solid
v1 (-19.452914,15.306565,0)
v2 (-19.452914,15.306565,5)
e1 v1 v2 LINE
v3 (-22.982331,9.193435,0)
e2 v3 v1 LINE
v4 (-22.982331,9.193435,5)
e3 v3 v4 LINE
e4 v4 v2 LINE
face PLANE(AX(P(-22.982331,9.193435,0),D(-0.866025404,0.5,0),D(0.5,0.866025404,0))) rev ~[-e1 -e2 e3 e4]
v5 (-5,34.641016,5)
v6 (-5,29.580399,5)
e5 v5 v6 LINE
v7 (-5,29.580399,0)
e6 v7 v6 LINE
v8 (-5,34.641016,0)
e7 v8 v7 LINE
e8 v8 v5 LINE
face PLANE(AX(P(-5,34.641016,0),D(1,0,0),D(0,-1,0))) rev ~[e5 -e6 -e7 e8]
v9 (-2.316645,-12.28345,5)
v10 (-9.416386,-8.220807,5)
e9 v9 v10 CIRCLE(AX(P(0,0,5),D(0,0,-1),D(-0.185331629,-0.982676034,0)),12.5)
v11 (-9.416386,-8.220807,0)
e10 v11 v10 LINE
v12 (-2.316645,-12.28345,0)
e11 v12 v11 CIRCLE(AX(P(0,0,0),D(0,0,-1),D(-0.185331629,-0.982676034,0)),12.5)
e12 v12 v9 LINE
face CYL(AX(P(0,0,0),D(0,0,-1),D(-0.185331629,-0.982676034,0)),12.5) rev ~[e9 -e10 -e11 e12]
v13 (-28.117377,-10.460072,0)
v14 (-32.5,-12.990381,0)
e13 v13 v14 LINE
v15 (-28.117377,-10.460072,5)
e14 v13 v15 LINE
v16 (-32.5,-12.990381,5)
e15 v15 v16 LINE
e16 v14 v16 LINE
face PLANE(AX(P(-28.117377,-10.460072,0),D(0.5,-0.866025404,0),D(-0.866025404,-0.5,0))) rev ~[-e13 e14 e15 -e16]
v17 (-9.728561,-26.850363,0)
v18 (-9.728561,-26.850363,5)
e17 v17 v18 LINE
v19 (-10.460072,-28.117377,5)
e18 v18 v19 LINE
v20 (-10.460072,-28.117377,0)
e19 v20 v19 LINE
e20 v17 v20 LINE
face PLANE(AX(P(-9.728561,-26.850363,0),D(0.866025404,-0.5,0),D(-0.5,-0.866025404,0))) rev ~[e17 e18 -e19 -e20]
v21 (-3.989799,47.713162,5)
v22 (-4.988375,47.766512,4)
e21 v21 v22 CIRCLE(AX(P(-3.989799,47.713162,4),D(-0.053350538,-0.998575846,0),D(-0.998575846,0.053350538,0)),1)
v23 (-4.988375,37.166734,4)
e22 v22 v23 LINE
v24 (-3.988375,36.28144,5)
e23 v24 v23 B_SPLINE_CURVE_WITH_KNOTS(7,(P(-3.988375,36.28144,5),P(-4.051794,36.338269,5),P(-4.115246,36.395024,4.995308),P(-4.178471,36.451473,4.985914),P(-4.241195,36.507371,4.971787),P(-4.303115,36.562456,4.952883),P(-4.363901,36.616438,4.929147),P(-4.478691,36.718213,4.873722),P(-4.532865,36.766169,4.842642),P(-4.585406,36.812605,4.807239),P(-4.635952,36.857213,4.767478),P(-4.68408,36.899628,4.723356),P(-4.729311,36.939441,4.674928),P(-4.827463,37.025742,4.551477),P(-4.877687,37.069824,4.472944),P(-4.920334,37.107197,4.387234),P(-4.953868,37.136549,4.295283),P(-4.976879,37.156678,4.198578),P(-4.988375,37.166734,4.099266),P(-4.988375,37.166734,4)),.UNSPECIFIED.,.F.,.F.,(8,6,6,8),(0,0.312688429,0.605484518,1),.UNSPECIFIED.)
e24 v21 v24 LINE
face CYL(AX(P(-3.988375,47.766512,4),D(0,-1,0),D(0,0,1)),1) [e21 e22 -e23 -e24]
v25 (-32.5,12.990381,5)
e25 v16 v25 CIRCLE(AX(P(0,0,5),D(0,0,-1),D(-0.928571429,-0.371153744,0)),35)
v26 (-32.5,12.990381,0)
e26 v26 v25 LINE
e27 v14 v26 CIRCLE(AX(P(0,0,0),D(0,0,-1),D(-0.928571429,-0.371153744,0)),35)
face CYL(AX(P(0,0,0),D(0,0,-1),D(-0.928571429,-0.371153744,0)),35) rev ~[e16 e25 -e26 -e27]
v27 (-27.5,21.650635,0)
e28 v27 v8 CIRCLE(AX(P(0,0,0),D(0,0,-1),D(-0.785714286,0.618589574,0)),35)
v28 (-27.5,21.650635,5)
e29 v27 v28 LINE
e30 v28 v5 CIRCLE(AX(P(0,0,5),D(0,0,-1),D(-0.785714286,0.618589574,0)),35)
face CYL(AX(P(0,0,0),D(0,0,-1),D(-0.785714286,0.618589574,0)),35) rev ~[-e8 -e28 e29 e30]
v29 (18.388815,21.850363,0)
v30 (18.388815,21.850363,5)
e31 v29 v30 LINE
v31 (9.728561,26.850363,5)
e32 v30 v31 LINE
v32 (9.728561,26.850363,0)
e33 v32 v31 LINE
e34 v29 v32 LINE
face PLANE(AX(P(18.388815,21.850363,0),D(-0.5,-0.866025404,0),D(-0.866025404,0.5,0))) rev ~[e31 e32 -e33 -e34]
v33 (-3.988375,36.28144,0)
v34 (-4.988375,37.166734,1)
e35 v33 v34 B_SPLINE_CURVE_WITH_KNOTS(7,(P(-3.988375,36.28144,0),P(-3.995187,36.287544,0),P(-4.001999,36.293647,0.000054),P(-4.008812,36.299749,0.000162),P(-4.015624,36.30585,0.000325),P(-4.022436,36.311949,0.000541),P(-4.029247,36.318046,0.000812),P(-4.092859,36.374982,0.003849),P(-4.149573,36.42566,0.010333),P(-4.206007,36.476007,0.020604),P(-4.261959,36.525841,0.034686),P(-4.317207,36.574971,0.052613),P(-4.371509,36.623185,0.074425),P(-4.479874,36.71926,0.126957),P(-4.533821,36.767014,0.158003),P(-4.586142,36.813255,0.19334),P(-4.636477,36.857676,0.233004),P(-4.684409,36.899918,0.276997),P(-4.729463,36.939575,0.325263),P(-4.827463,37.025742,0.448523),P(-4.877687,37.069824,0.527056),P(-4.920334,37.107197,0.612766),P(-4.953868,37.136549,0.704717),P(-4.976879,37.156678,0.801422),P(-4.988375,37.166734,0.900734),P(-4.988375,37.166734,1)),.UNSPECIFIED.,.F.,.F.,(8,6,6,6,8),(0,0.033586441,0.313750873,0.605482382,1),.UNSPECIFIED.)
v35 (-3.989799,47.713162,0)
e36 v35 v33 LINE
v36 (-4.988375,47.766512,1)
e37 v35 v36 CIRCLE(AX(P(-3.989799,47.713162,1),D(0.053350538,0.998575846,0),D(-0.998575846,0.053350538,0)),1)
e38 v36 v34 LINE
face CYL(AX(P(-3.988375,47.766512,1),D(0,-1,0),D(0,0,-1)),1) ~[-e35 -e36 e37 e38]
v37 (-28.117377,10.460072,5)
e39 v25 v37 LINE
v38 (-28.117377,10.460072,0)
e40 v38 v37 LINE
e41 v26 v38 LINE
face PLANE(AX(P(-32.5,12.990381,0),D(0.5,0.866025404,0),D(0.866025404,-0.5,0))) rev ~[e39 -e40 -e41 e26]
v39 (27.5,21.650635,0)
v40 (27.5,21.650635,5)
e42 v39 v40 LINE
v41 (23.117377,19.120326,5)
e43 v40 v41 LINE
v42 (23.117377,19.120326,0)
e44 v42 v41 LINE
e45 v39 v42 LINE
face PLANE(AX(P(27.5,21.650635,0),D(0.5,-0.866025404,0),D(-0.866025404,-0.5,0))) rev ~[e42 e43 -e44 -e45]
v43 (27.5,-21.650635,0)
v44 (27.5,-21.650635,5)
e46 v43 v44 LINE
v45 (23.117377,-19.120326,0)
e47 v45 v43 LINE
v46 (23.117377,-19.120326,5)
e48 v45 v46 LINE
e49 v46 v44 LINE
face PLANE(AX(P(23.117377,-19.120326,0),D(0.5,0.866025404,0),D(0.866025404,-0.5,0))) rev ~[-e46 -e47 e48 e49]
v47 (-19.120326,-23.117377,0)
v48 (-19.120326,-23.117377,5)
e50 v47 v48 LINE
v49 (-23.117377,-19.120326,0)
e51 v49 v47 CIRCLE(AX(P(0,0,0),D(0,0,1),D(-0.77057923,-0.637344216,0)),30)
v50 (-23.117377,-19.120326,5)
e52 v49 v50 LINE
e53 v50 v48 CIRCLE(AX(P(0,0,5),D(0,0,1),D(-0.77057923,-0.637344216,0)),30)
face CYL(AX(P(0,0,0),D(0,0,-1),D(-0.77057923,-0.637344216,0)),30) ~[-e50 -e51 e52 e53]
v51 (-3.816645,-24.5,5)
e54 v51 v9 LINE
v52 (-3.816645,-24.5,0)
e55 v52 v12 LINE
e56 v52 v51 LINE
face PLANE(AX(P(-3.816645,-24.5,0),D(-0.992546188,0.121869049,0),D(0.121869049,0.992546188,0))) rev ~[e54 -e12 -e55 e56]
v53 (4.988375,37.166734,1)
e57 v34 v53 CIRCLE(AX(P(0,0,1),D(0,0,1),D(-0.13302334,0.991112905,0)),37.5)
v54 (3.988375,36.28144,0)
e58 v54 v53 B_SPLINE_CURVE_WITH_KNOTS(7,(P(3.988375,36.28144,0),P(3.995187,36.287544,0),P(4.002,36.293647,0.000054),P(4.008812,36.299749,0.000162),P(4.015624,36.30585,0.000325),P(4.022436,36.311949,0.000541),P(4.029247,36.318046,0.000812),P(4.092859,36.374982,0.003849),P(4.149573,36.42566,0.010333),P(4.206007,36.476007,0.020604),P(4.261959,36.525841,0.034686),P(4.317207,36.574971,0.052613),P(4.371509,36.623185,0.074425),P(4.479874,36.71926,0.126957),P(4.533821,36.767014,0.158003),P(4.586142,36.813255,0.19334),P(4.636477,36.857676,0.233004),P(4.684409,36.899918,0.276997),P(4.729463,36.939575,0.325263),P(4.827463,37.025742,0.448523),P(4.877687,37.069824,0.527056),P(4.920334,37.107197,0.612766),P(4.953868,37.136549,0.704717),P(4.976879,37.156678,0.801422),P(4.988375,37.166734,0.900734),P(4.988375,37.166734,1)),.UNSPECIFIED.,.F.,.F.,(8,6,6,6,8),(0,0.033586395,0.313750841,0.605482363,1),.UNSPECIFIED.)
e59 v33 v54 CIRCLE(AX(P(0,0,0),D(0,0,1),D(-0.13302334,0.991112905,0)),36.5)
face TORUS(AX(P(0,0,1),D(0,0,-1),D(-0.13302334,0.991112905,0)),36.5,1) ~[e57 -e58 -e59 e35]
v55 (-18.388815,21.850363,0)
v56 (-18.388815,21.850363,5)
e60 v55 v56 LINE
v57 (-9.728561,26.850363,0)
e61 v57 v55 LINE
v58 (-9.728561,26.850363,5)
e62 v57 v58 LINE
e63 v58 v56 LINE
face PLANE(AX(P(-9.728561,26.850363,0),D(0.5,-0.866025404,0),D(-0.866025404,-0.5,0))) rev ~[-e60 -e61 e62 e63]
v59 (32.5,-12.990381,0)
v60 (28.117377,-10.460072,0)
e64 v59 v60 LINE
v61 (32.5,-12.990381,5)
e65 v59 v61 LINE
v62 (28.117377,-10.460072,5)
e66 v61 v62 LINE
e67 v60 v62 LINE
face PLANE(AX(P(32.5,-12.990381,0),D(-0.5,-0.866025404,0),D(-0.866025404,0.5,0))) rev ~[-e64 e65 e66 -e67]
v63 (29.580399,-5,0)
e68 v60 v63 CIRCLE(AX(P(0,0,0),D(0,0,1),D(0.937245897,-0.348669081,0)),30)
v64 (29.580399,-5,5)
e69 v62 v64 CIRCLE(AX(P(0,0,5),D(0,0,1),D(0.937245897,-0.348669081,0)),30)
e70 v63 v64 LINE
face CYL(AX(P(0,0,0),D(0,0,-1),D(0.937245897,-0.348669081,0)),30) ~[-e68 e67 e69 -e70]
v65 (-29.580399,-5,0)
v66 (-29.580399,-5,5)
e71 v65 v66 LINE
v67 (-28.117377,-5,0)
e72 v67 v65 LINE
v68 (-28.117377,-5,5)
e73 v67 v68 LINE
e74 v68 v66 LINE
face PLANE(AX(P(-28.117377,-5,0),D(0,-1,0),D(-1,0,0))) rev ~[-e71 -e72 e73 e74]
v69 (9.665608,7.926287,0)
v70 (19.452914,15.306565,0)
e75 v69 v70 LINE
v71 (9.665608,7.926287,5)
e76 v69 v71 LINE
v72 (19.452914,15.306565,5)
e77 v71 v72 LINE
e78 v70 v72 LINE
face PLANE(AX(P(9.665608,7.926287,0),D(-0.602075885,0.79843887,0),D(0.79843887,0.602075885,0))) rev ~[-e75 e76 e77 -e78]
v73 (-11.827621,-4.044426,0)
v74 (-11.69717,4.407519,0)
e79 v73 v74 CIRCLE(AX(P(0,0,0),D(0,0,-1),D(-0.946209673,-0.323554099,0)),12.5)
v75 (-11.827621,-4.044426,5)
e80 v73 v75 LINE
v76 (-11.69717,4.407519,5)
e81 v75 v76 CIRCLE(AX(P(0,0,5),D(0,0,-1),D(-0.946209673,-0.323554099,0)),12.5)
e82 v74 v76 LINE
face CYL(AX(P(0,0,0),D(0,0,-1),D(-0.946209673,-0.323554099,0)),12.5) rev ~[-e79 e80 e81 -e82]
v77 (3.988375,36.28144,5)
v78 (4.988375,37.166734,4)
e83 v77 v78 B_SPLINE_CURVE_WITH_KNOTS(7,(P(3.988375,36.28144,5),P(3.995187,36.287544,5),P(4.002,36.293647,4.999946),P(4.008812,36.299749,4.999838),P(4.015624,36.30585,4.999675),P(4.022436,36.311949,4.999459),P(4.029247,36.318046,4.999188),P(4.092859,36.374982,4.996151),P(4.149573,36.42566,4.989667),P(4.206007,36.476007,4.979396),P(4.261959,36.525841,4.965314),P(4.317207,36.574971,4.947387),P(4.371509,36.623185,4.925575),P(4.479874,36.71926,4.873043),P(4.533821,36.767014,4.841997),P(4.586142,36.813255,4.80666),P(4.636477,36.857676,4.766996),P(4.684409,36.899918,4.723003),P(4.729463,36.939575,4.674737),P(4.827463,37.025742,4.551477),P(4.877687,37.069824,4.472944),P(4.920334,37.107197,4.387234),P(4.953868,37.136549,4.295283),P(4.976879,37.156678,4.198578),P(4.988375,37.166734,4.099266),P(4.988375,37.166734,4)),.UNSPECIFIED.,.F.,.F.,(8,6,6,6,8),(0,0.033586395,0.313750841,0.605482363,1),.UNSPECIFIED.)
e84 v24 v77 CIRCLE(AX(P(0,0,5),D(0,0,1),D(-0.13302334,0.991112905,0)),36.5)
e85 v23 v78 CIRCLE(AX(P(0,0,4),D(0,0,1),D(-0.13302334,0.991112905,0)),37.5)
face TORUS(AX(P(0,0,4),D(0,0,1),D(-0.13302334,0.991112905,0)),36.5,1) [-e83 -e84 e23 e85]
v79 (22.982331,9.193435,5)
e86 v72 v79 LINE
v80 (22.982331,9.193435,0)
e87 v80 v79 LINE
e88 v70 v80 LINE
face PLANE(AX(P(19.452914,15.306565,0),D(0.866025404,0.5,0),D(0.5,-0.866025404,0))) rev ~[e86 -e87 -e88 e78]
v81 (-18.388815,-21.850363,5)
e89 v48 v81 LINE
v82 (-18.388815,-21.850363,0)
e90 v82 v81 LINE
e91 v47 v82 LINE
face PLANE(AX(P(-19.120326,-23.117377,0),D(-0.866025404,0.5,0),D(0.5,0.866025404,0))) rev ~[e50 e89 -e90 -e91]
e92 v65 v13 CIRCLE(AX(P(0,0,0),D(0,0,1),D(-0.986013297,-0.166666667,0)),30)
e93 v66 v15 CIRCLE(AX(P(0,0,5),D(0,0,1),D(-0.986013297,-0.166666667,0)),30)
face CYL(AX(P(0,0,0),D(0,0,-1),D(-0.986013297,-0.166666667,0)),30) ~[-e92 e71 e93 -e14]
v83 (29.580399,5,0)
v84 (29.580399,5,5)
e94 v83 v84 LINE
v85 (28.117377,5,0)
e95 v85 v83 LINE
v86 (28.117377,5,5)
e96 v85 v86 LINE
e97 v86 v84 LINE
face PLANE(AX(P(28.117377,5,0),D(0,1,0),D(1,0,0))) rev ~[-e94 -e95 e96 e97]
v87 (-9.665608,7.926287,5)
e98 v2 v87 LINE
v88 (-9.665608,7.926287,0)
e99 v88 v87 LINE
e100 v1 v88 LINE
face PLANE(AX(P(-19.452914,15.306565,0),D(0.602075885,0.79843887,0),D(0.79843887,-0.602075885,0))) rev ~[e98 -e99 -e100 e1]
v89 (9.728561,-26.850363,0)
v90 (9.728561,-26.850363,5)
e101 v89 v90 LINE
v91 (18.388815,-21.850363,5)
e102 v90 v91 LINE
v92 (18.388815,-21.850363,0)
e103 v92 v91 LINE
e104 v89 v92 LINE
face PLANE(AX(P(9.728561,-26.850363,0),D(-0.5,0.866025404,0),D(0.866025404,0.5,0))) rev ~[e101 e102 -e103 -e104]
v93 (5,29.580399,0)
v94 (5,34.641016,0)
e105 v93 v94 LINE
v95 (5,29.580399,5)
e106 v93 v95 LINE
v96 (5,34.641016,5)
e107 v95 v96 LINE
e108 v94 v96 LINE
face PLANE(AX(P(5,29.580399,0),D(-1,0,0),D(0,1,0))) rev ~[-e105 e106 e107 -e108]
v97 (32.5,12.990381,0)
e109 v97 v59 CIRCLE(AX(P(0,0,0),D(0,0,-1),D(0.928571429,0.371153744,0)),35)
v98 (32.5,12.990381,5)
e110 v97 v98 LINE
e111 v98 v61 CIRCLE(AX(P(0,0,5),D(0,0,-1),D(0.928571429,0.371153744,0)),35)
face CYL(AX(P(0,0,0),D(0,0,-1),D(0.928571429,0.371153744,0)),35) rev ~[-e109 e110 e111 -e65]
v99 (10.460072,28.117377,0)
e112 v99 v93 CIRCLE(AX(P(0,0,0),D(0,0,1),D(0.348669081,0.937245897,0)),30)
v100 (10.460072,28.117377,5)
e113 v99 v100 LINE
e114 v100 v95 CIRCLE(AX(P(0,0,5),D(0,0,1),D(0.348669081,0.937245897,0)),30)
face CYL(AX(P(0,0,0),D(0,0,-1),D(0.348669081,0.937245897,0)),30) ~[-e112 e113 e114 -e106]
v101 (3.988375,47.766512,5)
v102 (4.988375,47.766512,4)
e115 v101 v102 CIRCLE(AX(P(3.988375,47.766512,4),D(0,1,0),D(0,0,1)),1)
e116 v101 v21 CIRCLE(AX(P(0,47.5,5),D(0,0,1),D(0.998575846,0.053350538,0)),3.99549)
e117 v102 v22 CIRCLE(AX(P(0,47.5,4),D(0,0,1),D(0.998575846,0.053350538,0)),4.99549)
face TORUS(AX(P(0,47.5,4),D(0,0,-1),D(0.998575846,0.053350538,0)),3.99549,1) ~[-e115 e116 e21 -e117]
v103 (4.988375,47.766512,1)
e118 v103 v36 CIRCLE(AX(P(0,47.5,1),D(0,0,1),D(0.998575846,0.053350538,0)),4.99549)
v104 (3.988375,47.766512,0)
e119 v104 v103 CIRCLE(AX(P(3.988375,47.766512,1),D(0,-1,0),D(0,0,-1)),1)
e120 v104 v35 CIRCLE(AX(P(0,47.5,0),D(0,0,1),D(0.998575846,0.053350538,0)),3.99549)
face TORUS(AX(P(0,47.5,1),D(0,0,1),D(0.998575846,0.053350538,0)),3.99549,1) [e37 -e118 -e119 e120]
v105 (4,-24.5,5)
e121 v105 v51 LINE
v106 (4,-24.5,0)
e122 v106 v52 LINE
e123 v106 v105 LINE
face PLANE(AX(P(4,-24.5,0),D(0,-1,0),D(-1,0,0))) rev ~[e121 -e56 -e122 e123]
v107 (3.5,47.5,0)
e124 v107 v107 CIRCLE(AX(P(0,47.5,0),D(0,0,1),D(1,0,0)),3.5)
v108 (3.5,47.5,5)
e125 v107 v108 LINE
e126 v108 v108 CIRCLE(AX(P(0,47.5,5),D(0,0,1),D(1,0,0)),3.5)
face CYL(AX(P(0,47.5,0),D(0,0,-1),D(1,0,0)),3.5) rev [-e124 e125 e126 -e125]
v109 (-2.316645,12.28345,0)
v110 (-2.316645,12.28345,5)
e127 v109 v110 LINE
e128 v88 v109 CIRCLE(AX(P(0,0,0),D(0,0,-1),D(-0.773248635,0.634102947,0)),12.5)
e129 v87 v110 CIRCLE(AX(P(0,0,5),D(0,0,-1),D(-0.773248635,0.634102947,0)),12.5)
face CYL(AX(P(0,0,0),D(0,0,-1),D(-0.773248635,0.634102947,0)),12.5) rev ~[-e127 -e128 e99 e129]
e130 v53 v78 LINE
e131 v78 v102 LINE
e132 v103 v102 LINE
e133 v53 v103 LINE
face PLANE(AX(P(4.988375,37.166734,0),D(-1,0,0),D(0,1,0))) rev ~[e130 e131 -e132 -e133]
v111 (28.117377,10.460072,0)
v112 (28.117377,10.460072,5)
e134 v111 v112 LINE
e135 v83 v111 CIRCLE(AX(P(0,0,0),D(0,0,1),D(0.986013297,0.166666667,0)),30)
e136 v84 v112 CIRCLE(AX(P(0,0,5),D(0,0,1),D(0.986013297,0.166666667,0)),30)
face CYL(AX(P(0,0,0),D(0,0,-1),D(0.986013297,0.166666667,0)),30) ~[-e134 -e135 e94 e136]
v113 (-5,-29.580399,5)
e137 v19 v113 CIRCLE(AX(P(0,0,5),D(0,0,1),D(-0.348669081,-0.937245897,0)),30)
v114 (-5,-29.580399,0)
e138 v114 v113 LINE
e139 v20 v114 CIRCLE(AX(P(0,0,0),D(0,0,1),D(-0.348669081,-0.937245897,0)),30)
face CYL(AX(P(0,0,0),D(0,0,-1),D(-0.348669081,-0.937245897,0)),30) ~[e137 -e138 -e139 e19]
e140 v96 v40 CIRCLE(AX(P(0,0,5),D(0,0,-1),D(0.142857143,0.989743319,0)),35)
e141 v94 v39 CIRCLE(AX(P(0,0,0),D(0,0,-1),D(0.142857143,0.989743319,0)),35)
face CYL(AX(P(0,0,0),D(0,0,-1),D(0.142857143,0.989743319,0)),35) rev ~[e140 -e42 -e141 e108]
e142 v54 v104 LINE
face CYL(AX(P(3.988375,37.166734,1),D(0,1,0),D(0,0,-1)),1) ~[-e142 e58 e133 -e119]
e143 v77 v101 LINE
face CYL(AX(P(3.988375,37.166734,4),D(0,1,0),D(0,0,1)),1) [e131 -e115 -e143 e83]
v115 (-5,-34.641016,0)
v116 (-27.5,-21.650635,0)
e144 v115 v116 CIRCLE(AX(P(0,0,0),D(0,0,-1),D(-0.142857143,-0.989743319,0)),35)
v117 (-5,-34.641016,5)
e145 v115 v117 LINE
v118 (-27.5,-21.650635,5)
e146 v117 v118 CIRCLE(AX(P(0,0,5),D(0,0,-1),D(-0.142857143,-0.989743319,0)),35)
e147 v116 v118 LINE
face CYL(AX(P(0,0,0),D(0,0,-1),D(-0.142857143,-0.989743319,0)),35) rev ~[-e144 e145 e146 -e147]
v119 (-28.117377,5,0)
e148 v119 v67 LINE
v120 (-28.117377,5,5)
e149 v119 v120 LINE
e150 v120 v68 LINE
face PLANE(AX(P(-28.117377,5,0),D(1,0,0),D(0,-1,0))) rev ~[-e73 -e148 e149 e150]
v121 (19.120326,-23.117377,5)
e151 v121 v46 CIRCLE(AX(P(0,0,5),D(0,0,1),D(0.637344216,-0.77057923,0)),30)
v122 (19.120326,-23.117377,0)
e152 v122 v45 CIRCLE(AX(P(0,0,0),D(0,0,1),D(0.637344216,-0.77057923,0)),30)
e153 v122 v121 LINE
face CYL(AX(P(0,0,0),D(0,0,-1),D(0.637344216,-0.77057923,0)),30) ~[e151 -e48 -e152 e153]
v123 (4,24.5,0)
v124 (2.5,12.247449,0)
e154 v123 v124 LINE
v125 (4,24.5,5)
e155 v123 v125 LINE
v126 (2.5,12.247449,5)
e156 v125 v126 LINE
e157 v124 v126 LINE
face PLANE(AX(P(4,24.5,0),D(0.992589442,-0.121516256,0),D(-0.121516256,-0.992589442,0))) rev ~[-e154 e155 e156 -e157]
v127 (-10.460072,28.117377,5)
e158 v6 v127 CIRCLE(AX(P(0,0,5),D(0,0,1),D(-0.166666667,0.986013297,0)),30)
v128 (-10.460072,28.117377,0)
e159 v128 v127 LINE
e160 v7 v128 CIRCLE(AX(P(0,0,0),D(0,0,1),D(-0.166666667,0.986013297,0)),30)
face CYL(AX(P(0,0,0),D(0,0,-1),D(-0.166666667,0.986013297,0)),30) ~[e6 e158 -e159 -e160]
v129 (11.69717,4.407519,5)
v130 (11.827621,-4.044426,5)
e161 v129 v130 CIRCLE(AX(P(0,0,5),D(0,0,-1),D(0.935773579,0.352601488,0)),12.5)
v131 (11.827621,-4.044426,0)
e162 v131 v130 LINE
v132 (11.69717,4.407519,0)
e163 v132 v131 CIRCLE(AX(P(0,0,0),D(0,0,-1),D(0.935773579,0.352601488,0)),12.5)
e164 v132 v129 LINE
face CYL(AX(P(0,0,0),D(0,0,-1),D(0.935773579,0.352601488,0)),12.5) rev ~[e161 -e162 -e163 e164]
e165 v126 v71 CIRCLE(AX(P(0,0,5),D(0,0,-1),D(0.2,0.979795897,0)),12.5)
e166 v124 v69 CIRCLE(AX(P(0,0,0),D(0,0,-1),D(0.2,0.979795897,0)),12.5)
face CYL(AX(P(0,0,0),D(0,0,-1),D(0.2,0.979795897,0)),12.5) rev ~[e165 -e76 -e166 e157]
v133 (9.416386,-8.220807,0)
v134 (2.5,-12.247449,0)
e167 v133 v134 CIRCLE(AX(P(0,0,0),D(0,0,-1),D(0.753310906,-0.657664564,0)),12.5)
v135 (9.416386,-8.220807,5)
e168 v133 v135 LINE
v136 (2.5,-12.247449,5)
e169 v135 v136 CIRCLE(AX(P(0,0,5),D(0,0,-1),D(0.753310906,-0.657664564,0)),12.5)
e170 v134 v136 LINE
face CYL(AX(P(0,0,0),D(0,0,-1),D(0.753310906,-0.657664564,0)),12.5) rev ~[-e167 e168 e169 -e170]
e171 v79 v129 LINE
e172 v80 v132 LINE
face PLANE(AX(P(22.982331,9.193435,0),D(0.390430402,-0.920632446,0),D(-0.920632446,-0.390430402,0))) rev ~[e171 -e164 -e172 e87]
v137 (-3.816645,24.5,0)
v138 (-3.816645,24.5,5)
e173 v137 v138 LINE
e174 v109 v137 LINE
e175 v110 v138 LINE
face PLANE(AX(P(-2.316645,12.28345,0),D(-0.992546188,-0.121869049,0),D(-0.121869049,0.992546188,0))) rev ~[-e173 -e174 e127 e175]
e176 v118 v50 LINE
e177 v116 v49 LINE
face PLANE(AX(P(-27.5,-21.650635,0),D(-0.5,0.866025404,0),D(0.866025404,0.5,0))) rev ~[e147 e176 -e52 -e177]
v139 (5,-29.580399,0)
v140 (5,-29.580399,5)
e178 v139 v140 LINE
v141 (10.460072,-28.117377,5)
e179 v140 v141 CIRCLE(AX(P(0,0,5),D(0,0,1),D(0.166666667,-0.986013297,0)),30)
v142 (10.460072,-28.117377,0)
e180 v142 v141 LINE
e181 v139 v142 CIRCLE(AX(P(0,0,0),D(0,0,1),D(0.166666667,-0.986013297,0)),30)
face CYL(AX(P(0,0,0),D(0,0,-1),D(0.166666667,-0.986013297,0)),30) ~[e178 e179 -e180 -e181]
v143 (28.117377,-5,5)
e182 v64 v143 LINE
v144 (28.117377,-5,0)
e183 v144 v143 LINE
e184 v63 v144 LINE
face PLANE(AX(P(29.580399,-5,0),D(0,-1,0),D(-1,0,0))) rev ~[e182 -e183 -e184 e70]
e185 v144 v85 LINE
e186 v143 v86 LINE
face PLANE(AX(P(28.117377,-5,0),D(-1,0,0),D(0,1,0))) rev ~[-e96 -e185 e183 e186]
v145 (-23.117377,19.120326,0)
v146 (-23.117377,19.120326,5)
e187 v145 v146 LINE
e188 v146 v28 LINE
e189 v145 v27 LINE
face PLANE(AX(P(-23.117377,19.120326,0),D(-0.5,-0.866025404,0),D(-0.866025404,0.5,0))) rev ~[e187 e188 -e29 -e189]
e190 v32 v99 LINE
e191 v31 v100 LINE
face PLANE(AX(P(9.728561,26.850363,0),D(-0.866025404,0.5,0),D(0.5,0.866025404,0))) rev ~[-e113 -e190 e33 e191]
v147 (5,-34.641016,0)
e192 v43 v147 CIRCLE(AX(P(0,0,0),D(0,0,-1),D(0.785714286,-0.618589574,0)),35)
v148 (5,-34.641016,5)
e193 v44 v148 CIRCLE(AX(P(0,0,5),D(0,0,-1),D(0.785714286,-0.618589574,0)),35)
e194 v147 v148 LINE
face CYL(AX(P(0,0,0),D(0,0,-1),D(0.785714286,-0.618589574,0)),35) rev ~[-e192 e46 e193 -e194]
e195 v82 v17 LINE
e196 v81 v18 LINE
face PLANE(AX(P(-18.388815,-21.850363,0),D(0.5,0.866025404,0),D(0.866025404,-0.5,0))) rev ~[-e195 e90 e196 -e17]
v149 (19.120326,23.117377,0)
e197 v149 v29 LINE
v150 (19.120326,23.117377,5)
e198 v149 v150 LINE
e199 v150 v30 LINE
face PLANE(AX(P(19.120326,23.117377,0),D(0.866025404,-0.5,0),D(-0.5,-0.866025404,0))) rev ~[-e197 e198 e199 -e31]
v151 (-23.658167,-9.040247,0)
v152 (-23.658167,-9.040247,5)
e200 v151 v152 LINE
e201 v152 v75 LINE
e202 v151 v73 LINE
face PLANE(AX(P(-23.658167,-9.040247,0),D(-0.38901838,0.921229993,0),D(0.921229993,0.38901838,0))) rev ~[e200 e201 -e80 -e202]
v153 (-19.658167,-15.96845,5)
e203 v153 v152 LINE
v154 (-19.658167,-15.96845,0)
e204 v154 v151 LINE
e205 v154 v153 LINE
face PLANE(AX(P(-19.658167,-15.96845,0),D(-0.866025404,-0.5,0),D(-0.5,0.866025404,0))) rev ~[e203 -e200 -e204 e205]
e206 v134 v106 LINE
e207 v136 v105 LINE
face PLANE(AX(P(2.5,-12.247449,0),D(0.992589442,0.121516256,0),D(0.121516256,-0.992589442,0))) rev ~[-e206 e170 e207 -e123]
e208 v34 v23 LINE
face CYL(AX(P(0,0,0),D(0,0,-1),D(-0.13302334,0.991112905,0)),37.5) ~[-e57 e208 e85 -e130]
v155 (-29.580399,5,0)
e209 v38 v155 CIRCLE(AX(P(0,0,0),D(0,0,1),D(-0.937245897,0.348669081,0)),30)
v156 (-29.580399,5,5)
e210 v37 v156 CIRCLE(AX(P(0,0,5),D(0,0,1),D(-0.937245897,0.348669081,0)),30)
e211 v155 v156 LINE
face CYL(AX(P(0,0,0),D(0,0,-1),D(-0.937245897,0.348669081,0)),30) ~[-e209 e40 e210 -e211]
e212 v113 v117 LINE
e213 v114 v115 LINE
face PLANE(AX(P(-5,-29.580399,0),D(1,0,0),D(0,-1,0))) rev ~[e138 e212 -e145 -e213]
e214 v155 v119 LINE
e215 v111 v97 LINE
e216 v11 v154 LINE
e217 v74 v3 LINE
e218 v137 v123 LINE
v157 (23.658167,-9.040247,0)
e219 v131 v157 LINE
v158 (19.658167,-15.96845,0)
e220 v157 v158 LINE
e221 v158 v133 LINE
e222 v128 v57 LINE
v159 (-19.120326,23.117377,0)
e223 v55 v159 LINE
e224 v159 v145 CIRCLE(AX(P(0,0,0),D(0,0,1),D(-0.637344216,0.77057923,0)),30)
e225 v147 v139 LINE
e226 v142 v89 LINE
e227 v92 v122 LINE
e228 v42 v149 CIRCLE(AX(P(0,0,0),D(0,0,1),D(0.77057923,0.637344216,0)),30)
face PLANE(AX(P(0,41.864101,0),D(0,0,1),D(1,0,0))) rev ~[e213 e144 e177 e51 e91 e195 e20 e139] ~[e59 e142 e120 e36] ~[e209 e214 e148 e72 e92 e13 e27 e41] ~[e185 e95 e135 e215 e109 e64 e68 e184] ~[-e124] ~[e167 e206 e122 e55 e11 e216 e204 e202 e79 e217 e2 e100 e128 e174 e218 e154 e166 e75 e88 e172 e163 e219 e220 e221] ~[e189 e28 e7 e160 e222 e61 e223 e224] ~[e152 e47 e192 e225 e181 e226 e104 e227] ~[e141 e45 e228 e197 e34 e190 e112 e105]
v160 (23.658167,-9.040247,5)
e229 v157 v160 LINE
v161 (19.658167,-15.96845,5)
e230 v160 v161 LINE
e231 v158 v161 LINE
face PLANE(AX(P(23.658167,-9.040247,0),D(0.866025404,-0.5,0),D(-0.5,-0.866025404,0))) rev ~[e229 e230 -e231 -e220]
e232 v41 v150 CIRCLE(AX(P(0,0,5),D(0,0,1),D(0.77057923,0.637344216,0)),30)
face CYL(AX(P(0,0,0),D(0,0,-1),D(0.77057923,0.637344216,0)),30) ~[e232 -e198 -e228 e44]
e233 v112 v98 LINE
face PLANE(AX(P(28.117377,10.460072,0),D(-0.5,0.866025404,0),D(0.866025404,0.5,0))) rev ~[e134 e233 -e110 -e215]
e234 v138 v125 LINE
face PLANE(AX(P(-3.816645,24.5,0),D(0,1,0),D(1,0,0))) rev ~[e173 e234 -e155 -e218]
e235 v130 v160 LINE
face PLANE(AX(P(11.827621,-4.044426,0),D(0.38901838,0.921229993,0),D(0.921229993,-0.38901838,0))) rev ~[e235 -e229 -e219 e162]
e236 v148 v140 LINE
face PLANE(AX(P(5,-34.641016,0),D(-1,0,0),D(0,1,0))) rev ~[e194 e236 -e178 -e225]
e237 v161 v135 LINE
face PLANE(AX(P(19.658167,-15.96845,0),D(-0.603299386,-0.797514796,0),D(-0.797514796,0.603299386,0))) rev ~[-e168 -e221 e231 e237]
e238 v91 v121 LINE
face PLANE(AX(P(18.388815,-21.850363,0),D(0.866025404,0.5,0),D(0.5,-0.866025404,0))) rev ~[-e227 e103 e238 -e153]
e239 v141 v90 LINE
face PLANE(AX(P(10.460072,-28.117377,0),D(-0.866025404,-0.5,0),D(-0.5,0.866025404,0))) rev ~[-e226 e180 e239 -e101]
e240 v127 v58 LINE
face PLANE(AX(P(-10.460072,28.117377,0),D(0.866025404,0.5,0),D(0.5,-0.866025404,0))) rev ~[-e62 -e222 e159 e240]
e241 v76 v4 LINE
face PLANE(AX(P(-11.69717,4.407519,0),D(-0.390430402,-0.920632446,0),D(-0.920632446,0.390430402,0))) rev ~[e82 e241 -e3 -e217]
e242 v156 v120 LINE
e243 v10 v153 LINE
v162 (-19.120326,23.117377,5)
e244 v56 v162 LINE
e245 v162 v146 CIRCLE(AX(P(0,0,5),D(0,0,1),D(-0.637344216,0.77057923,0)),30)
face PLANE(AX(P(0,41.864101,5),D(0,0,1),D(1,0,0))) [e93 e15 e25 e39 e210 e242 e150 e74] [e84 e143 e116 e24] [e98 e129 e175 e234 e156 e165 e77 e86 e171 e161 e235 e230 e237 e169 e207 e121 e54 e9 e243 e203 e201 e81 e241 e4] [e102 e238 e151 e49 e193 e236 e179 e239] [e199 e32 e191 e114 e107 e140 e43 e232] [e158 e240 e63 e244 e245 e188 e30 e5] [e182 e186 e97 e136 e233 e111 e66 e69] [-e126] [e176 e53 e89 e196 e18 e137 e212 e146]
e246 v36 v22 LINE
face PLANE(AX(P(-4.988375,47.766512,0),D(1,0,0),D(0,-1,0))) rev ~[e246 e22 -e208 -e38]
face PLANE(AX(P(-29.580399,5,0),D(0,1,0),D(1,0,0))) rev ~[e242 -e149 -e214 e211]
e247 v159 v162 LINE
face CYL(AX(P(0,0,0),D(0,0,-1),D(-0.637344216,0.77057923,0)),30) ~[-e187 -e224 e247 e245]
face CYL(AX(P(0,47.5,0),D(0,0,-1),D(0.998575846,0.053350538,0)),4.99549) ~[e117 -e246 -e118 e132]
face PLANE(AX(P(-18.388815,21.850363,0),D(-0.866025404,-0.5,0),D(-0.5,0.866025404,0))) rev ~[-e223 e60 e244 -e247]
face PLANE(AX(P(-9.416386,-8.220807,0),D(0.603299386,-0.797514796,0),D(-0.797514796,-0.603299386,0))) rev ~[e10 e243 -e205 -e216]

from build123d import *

# Parameters (mm, degrees)
F1_DEPTH = 5
F0_R     = 3.5
F2_DEPTH = 5
F3_R     = 1


with BuildPart() as f1:
    # F0 (on Top) → F1 (new body)
    with BuildSketch(Plane.XY):
        with BuildLine():
            ThreePointArc((-4.988375268, 37.1667339456), (-24.6899364868, -28.2251135742), (37.5, 0))
            ThreePointArc((37.5, 0), (28.2251135742, 24.6899364868), (4.988375268, 37.1667339456))
            ThreePointArc((4.988375268, 37.1667339456), (0, 37.5), (-4.988375268, 37.1667339456))
        make_face()
        with BuildLine():
            Line((-5, -29.5803989155), (-5, -30))
            Line((-5, -30), (-5, -34.6410161514))
            ThreePointArc((-5, -34.6410161514), (-17.5, -30.3108891325), (-27.5, -21.6506350946))
            Line((-27.5, -21.6506350946), (-23.1173769149, -19.1203264767))
            ThreePointArc((-23.1173769149, -19.1203264767), (-21.2132034356, -21.2132034356), (-19.1203264767, -23.1173769149))
            Line((-19.1203264767, -23.1173769149), (-18.3888154764, -21.8503626961))
            Line((-18.3888154764, -21.8503626961), (-9.7285614385, -26.8503626961))
            Line((-9.7285614385, -26.8503626961), (-10.4600724388, -28.1173769149))
            ThreePointArc((-10.4600724388, -28.1173769149), (-7.7645713531, -28.9777747887), (-5, -29.5803989155))
        make_face(mode=Mode.SUBTRACT)
        with BuildLine():
            ThreePointArc((-32.5, -12.9903810568), (-35, 0), (-32.5, 12.9903810568))
            Line((-32.5, 12.9903810568), (-28.1173769149, 10.4600724388))
            ThreePointArc((-28.1173769149, 10.4600724388), (-28.9777747887, 7.7645713531), (-29.5803989155, 5))
            Line((-29.5803989155, 5), (-28.1173769149, 5))
            Line((-28.1173769149, 5), (-28.1173769149, -5))
            Line((-28.1173769149, -5), (-29.5803989155, -5))
            ThreePointArc((-29.5803989155, -5), (-28.9777747887, -7.7645713531), (-28.1173769149, -10.4600724388))
            Line((-28.1173769149, -10.4600724388), (-32.5, -12.9903810568))
        make_face(mode=Mode.SUBTRACT)
        with BuildLine():
            Line((5, -30), (5, -29.5803989155))
            ThreePointArc((5, -29.5803989155), (7.7645713531, -28.9777747887), (10.4600724388, -28.1173769149))
            Line((10.4600724388, -28.1173769149), (9.7285614385, -26.8503626961))
            Line((9.7285614385, -26.8503626961), (18.3888154764, -21.8503626961))
            Line((18.3888154764, -21.8503626961), (19.1203264767, -23.1173769149))
            ThreePointArc((19.1203264767, -23.1173769149), (21.2132034356, -21.2132034356), (23.1173769149, -19.1203264767))
            Line((23.1173769149, -19.1203264767), (27.5, -21.6506350946))
            ThreePointArc((27.5, -21.6506350946), (17.5, -30.3108891325), (5, -34.6410161514))
            Line((5, -34.6410161514), (5, -30))
        make_face(mode=Mode.SUBTRACT)
        with BuildLine():
            ThreePointArc((-9.6656079434, 7.926286841), (-6.3749366407, 10.7522175772), (-2.3166453596, 12.2834504223))
            Line((-2.3166453596, 12.2834504223), (-3.8166453596, 24.5))
            Line((-3.8166453596, 24.5), (4, 24.5))
            Line((4, 24.5), (2.5, 12.2474487139))
            ThreePointArc((2.5, 12.2474487139), (6.4551230926, 10.7042695154), (9.6656079434, 7.926286841))
            Line((9.6656079434, 7.926286841), (19.4529138373, 15.3065648785))
            Line((19.4529138373, 15.3065648785), (22.9823309481, 9.1934351215))
            Line((22.9823309481, 9.1934351215), (11.6971697336, 4.4075186015))
            ThreePointArc((11.6971697336, 4.4075186015), (12.4985113757, 0.1929077306), (11.827620909, -4.0444262427))
            Line((11.827620909, -4.0444262427), (23.6581671568, -9.040247023))
            Line((23.6581671568, -9.040247023), (19.6581671568, -15.9684502533))
            Line((19.6581671568, -15.9684502533), (9.4163863244, -8.2208070522))
            ThreePointArc((9.4163863244, -8.2208070522), (6.2891594451, -10.8026141963), (2.5, -12.2474487139))
            Line((2.5, -12.2474487139), (4, -24.5))
            Line((4, -24.5), (-3.8166453596, -24.5))
            Line((-3.8166453596, -24.5), (-2.3166453596, -12.2834504223))
            ThreePointArc((-2.3166453596, -12.2834504223), (-6.2082425785, -10.849319061), (-9.4163863244, -8.2208070522))
            Line((-9.4163863244, -8.2208070522), (-19.6581671568, -15.9684502533))
            Line((-19.6581671568, -15.9684502533), (-23.6581671568, -9.040247023))
            Line((-23.6581671568, -9.040247023), (-11.827620909, -4.0444262427))
            ThreePointArc((-11.827620909, -4.0444262427), (-12.4985113757, 0.1929077306), (-11.6971697336, 4.4075186015))
            Line((-11.6971697336, 4.4075186015), (-22.9823309481, 9.1934351215))
            Line((-22.9823309481, 9.1934351215), (-19.4529138373, 15.3065648785))
            Line((-19.4529138373, 15.3065648785), (-9.6656079434, 7.926286841))
        make_face(mode=Mode.SUBTRACT)
        with BuildLine():
            Line((28.1173769149, 10.4600724388), (32.5, 12.9903810568))
            ThreePointArc((32.5, 12.9903810568), (35, 0), (32.5, -12.9903810568))
            Line((32.5, -12.9903810568), (28.1173769149, -10.4600724388))
            ThreePointArc((28.1173769149, -10.4600724388), (28.9777747887, -7.7645713531), (29.5803989155, -5))
            Line((29.5803989155, -5), (28.1173769149, -5))
            Line((28.1173769149, -5), (28.1173769149, 5))
            Line((28.1173769149, 5), (29.5803989155, 5))
            ThreePointArc((29.5803989155, 5), (28.9777747887, 7.7645713531), (28.1173769149, 10.4600724388))
        make_face(mode=Mode.SUBTRACT)
        with BuildLine():
            Line((-5, 30), (-5, 29.5803989155))
            ThreePointArc((-5, 29.5803989155), (-7.7645713531, 28.9777747887), (-10.4600724388, 28.1173769149))
            Line((-10.4600724388, 28.1173769149), (-9.7285614385, 26.8503626961))
            Line((-9.7285614385, 26.8503626961), (-18.3888154764, 21.8503626961))
            Line((-18.3888154764, 21.8503626961), (-19.1203264767, 23.1173769149))
            ThreePointArc((-19.1203264767, 23.1173769149), (-21.2132034356, 21.2132034356), (-23.1173769149, 19.1203264767))
            Line((-23.1173769149, 19.1203264767), (-27.5, 21.6506350946))
            ThreePointArc((-27.5, 21.6506350946), (-17.5, 30.3108891325), (-5, 34.6410161514))
            Line((-5, 34.6410161514), (-5, 30))
        make_face(mode=Mode.SUBTRACT)
        with BuildLine():
            Line((5, 29.5803989155), (5, 30))
            Line((5, 30), (5, 34.6410161514))
            ThreePointArc((5, 34.6410161514), (17.5, 30.3108891325), (27.5, 21.6506350946))
            Line((27.5, 21.6506350946), (23.1173769149, 19.1203264767))
            ThreePointArc((23.1173769149, 19.1203264767), (21.2132034356, 21.2132034356), (19.1203264767, 23.1173769149))
            Line((19.1203264767, 23.1173769149), (18.3888154764, 21.8503626961))
            Line((18.3888154764, 21.8503626961), (9.7285614385, 26.8503626961))
            Line((9.7285614385, 26.8503626961), (10.4600724388, 28.1173769149))
            ThreePointArc((10.4600724388, 28.1173769149), (7.7645713531, 28.9777747887), (5, 29.5803989155))
        make_face(mode=Mode.SUBTRACT)
    extrude(amount=F1_DEPTH)

    # F0 (on Top) → F2 (join)
    with BuildSketch(Plane.XY):
        with BuildLine():
            ThreePointArc((-4.988375268, 37.1667339456), (0, 37.5), (4.988375268, 37.1667339456))
            Line((4.988375268, 37.1667339456), (4.988375268, 47.2334879431))
            ThreePointArc((4.988375268, 47.2334879431), (0, 42.5045103852), (-4.988375268, 47.2334879431))
            Line((-4.988375268, 47.2334879431), (-4.988375268, 37.1667339456))
        make_face()
        with BuildLine():
            ThreePointArc((-4.988375268, 47.2334879431), (0, 42.5045103852), (4.988375268, 47.2334879431))
            Line((4.988375268, 47.2334879431), (4.988375268, 47.7665120569))
            ThreePointArc((4.988375268, 47.7665120569), (0, 52.4954896148), (-4.988375268, 47.7665120569))
            Line((-4.988375268, 47.7665120569), (-4.988375268, 47.2334879431))
        make_face()
        with Locations((0, 47.5)):
            Circle(F0_R, mode=Mode.SUBTRACT)
    extrude(amount=F2_DEPTH)

    # F3
    f3_edges = [f1.edges().sort_by_distance(p)[0] for p in [
        (4.988375, 42.466623, 0),
        (-4.988375, 42.466623, 0),
        (4.988375, 42.466623, 5),
        (-4.988375, 42.466623, 5),
        (0, 52.49549, 5),
        (0, 52.49549, 0),
        (-24.689936, -28.225114, 0),
        (-24.689936, -28.225114, 5),
    ]]
    fillet(f3_edges, radius=F3_R)


solid = f1.part
